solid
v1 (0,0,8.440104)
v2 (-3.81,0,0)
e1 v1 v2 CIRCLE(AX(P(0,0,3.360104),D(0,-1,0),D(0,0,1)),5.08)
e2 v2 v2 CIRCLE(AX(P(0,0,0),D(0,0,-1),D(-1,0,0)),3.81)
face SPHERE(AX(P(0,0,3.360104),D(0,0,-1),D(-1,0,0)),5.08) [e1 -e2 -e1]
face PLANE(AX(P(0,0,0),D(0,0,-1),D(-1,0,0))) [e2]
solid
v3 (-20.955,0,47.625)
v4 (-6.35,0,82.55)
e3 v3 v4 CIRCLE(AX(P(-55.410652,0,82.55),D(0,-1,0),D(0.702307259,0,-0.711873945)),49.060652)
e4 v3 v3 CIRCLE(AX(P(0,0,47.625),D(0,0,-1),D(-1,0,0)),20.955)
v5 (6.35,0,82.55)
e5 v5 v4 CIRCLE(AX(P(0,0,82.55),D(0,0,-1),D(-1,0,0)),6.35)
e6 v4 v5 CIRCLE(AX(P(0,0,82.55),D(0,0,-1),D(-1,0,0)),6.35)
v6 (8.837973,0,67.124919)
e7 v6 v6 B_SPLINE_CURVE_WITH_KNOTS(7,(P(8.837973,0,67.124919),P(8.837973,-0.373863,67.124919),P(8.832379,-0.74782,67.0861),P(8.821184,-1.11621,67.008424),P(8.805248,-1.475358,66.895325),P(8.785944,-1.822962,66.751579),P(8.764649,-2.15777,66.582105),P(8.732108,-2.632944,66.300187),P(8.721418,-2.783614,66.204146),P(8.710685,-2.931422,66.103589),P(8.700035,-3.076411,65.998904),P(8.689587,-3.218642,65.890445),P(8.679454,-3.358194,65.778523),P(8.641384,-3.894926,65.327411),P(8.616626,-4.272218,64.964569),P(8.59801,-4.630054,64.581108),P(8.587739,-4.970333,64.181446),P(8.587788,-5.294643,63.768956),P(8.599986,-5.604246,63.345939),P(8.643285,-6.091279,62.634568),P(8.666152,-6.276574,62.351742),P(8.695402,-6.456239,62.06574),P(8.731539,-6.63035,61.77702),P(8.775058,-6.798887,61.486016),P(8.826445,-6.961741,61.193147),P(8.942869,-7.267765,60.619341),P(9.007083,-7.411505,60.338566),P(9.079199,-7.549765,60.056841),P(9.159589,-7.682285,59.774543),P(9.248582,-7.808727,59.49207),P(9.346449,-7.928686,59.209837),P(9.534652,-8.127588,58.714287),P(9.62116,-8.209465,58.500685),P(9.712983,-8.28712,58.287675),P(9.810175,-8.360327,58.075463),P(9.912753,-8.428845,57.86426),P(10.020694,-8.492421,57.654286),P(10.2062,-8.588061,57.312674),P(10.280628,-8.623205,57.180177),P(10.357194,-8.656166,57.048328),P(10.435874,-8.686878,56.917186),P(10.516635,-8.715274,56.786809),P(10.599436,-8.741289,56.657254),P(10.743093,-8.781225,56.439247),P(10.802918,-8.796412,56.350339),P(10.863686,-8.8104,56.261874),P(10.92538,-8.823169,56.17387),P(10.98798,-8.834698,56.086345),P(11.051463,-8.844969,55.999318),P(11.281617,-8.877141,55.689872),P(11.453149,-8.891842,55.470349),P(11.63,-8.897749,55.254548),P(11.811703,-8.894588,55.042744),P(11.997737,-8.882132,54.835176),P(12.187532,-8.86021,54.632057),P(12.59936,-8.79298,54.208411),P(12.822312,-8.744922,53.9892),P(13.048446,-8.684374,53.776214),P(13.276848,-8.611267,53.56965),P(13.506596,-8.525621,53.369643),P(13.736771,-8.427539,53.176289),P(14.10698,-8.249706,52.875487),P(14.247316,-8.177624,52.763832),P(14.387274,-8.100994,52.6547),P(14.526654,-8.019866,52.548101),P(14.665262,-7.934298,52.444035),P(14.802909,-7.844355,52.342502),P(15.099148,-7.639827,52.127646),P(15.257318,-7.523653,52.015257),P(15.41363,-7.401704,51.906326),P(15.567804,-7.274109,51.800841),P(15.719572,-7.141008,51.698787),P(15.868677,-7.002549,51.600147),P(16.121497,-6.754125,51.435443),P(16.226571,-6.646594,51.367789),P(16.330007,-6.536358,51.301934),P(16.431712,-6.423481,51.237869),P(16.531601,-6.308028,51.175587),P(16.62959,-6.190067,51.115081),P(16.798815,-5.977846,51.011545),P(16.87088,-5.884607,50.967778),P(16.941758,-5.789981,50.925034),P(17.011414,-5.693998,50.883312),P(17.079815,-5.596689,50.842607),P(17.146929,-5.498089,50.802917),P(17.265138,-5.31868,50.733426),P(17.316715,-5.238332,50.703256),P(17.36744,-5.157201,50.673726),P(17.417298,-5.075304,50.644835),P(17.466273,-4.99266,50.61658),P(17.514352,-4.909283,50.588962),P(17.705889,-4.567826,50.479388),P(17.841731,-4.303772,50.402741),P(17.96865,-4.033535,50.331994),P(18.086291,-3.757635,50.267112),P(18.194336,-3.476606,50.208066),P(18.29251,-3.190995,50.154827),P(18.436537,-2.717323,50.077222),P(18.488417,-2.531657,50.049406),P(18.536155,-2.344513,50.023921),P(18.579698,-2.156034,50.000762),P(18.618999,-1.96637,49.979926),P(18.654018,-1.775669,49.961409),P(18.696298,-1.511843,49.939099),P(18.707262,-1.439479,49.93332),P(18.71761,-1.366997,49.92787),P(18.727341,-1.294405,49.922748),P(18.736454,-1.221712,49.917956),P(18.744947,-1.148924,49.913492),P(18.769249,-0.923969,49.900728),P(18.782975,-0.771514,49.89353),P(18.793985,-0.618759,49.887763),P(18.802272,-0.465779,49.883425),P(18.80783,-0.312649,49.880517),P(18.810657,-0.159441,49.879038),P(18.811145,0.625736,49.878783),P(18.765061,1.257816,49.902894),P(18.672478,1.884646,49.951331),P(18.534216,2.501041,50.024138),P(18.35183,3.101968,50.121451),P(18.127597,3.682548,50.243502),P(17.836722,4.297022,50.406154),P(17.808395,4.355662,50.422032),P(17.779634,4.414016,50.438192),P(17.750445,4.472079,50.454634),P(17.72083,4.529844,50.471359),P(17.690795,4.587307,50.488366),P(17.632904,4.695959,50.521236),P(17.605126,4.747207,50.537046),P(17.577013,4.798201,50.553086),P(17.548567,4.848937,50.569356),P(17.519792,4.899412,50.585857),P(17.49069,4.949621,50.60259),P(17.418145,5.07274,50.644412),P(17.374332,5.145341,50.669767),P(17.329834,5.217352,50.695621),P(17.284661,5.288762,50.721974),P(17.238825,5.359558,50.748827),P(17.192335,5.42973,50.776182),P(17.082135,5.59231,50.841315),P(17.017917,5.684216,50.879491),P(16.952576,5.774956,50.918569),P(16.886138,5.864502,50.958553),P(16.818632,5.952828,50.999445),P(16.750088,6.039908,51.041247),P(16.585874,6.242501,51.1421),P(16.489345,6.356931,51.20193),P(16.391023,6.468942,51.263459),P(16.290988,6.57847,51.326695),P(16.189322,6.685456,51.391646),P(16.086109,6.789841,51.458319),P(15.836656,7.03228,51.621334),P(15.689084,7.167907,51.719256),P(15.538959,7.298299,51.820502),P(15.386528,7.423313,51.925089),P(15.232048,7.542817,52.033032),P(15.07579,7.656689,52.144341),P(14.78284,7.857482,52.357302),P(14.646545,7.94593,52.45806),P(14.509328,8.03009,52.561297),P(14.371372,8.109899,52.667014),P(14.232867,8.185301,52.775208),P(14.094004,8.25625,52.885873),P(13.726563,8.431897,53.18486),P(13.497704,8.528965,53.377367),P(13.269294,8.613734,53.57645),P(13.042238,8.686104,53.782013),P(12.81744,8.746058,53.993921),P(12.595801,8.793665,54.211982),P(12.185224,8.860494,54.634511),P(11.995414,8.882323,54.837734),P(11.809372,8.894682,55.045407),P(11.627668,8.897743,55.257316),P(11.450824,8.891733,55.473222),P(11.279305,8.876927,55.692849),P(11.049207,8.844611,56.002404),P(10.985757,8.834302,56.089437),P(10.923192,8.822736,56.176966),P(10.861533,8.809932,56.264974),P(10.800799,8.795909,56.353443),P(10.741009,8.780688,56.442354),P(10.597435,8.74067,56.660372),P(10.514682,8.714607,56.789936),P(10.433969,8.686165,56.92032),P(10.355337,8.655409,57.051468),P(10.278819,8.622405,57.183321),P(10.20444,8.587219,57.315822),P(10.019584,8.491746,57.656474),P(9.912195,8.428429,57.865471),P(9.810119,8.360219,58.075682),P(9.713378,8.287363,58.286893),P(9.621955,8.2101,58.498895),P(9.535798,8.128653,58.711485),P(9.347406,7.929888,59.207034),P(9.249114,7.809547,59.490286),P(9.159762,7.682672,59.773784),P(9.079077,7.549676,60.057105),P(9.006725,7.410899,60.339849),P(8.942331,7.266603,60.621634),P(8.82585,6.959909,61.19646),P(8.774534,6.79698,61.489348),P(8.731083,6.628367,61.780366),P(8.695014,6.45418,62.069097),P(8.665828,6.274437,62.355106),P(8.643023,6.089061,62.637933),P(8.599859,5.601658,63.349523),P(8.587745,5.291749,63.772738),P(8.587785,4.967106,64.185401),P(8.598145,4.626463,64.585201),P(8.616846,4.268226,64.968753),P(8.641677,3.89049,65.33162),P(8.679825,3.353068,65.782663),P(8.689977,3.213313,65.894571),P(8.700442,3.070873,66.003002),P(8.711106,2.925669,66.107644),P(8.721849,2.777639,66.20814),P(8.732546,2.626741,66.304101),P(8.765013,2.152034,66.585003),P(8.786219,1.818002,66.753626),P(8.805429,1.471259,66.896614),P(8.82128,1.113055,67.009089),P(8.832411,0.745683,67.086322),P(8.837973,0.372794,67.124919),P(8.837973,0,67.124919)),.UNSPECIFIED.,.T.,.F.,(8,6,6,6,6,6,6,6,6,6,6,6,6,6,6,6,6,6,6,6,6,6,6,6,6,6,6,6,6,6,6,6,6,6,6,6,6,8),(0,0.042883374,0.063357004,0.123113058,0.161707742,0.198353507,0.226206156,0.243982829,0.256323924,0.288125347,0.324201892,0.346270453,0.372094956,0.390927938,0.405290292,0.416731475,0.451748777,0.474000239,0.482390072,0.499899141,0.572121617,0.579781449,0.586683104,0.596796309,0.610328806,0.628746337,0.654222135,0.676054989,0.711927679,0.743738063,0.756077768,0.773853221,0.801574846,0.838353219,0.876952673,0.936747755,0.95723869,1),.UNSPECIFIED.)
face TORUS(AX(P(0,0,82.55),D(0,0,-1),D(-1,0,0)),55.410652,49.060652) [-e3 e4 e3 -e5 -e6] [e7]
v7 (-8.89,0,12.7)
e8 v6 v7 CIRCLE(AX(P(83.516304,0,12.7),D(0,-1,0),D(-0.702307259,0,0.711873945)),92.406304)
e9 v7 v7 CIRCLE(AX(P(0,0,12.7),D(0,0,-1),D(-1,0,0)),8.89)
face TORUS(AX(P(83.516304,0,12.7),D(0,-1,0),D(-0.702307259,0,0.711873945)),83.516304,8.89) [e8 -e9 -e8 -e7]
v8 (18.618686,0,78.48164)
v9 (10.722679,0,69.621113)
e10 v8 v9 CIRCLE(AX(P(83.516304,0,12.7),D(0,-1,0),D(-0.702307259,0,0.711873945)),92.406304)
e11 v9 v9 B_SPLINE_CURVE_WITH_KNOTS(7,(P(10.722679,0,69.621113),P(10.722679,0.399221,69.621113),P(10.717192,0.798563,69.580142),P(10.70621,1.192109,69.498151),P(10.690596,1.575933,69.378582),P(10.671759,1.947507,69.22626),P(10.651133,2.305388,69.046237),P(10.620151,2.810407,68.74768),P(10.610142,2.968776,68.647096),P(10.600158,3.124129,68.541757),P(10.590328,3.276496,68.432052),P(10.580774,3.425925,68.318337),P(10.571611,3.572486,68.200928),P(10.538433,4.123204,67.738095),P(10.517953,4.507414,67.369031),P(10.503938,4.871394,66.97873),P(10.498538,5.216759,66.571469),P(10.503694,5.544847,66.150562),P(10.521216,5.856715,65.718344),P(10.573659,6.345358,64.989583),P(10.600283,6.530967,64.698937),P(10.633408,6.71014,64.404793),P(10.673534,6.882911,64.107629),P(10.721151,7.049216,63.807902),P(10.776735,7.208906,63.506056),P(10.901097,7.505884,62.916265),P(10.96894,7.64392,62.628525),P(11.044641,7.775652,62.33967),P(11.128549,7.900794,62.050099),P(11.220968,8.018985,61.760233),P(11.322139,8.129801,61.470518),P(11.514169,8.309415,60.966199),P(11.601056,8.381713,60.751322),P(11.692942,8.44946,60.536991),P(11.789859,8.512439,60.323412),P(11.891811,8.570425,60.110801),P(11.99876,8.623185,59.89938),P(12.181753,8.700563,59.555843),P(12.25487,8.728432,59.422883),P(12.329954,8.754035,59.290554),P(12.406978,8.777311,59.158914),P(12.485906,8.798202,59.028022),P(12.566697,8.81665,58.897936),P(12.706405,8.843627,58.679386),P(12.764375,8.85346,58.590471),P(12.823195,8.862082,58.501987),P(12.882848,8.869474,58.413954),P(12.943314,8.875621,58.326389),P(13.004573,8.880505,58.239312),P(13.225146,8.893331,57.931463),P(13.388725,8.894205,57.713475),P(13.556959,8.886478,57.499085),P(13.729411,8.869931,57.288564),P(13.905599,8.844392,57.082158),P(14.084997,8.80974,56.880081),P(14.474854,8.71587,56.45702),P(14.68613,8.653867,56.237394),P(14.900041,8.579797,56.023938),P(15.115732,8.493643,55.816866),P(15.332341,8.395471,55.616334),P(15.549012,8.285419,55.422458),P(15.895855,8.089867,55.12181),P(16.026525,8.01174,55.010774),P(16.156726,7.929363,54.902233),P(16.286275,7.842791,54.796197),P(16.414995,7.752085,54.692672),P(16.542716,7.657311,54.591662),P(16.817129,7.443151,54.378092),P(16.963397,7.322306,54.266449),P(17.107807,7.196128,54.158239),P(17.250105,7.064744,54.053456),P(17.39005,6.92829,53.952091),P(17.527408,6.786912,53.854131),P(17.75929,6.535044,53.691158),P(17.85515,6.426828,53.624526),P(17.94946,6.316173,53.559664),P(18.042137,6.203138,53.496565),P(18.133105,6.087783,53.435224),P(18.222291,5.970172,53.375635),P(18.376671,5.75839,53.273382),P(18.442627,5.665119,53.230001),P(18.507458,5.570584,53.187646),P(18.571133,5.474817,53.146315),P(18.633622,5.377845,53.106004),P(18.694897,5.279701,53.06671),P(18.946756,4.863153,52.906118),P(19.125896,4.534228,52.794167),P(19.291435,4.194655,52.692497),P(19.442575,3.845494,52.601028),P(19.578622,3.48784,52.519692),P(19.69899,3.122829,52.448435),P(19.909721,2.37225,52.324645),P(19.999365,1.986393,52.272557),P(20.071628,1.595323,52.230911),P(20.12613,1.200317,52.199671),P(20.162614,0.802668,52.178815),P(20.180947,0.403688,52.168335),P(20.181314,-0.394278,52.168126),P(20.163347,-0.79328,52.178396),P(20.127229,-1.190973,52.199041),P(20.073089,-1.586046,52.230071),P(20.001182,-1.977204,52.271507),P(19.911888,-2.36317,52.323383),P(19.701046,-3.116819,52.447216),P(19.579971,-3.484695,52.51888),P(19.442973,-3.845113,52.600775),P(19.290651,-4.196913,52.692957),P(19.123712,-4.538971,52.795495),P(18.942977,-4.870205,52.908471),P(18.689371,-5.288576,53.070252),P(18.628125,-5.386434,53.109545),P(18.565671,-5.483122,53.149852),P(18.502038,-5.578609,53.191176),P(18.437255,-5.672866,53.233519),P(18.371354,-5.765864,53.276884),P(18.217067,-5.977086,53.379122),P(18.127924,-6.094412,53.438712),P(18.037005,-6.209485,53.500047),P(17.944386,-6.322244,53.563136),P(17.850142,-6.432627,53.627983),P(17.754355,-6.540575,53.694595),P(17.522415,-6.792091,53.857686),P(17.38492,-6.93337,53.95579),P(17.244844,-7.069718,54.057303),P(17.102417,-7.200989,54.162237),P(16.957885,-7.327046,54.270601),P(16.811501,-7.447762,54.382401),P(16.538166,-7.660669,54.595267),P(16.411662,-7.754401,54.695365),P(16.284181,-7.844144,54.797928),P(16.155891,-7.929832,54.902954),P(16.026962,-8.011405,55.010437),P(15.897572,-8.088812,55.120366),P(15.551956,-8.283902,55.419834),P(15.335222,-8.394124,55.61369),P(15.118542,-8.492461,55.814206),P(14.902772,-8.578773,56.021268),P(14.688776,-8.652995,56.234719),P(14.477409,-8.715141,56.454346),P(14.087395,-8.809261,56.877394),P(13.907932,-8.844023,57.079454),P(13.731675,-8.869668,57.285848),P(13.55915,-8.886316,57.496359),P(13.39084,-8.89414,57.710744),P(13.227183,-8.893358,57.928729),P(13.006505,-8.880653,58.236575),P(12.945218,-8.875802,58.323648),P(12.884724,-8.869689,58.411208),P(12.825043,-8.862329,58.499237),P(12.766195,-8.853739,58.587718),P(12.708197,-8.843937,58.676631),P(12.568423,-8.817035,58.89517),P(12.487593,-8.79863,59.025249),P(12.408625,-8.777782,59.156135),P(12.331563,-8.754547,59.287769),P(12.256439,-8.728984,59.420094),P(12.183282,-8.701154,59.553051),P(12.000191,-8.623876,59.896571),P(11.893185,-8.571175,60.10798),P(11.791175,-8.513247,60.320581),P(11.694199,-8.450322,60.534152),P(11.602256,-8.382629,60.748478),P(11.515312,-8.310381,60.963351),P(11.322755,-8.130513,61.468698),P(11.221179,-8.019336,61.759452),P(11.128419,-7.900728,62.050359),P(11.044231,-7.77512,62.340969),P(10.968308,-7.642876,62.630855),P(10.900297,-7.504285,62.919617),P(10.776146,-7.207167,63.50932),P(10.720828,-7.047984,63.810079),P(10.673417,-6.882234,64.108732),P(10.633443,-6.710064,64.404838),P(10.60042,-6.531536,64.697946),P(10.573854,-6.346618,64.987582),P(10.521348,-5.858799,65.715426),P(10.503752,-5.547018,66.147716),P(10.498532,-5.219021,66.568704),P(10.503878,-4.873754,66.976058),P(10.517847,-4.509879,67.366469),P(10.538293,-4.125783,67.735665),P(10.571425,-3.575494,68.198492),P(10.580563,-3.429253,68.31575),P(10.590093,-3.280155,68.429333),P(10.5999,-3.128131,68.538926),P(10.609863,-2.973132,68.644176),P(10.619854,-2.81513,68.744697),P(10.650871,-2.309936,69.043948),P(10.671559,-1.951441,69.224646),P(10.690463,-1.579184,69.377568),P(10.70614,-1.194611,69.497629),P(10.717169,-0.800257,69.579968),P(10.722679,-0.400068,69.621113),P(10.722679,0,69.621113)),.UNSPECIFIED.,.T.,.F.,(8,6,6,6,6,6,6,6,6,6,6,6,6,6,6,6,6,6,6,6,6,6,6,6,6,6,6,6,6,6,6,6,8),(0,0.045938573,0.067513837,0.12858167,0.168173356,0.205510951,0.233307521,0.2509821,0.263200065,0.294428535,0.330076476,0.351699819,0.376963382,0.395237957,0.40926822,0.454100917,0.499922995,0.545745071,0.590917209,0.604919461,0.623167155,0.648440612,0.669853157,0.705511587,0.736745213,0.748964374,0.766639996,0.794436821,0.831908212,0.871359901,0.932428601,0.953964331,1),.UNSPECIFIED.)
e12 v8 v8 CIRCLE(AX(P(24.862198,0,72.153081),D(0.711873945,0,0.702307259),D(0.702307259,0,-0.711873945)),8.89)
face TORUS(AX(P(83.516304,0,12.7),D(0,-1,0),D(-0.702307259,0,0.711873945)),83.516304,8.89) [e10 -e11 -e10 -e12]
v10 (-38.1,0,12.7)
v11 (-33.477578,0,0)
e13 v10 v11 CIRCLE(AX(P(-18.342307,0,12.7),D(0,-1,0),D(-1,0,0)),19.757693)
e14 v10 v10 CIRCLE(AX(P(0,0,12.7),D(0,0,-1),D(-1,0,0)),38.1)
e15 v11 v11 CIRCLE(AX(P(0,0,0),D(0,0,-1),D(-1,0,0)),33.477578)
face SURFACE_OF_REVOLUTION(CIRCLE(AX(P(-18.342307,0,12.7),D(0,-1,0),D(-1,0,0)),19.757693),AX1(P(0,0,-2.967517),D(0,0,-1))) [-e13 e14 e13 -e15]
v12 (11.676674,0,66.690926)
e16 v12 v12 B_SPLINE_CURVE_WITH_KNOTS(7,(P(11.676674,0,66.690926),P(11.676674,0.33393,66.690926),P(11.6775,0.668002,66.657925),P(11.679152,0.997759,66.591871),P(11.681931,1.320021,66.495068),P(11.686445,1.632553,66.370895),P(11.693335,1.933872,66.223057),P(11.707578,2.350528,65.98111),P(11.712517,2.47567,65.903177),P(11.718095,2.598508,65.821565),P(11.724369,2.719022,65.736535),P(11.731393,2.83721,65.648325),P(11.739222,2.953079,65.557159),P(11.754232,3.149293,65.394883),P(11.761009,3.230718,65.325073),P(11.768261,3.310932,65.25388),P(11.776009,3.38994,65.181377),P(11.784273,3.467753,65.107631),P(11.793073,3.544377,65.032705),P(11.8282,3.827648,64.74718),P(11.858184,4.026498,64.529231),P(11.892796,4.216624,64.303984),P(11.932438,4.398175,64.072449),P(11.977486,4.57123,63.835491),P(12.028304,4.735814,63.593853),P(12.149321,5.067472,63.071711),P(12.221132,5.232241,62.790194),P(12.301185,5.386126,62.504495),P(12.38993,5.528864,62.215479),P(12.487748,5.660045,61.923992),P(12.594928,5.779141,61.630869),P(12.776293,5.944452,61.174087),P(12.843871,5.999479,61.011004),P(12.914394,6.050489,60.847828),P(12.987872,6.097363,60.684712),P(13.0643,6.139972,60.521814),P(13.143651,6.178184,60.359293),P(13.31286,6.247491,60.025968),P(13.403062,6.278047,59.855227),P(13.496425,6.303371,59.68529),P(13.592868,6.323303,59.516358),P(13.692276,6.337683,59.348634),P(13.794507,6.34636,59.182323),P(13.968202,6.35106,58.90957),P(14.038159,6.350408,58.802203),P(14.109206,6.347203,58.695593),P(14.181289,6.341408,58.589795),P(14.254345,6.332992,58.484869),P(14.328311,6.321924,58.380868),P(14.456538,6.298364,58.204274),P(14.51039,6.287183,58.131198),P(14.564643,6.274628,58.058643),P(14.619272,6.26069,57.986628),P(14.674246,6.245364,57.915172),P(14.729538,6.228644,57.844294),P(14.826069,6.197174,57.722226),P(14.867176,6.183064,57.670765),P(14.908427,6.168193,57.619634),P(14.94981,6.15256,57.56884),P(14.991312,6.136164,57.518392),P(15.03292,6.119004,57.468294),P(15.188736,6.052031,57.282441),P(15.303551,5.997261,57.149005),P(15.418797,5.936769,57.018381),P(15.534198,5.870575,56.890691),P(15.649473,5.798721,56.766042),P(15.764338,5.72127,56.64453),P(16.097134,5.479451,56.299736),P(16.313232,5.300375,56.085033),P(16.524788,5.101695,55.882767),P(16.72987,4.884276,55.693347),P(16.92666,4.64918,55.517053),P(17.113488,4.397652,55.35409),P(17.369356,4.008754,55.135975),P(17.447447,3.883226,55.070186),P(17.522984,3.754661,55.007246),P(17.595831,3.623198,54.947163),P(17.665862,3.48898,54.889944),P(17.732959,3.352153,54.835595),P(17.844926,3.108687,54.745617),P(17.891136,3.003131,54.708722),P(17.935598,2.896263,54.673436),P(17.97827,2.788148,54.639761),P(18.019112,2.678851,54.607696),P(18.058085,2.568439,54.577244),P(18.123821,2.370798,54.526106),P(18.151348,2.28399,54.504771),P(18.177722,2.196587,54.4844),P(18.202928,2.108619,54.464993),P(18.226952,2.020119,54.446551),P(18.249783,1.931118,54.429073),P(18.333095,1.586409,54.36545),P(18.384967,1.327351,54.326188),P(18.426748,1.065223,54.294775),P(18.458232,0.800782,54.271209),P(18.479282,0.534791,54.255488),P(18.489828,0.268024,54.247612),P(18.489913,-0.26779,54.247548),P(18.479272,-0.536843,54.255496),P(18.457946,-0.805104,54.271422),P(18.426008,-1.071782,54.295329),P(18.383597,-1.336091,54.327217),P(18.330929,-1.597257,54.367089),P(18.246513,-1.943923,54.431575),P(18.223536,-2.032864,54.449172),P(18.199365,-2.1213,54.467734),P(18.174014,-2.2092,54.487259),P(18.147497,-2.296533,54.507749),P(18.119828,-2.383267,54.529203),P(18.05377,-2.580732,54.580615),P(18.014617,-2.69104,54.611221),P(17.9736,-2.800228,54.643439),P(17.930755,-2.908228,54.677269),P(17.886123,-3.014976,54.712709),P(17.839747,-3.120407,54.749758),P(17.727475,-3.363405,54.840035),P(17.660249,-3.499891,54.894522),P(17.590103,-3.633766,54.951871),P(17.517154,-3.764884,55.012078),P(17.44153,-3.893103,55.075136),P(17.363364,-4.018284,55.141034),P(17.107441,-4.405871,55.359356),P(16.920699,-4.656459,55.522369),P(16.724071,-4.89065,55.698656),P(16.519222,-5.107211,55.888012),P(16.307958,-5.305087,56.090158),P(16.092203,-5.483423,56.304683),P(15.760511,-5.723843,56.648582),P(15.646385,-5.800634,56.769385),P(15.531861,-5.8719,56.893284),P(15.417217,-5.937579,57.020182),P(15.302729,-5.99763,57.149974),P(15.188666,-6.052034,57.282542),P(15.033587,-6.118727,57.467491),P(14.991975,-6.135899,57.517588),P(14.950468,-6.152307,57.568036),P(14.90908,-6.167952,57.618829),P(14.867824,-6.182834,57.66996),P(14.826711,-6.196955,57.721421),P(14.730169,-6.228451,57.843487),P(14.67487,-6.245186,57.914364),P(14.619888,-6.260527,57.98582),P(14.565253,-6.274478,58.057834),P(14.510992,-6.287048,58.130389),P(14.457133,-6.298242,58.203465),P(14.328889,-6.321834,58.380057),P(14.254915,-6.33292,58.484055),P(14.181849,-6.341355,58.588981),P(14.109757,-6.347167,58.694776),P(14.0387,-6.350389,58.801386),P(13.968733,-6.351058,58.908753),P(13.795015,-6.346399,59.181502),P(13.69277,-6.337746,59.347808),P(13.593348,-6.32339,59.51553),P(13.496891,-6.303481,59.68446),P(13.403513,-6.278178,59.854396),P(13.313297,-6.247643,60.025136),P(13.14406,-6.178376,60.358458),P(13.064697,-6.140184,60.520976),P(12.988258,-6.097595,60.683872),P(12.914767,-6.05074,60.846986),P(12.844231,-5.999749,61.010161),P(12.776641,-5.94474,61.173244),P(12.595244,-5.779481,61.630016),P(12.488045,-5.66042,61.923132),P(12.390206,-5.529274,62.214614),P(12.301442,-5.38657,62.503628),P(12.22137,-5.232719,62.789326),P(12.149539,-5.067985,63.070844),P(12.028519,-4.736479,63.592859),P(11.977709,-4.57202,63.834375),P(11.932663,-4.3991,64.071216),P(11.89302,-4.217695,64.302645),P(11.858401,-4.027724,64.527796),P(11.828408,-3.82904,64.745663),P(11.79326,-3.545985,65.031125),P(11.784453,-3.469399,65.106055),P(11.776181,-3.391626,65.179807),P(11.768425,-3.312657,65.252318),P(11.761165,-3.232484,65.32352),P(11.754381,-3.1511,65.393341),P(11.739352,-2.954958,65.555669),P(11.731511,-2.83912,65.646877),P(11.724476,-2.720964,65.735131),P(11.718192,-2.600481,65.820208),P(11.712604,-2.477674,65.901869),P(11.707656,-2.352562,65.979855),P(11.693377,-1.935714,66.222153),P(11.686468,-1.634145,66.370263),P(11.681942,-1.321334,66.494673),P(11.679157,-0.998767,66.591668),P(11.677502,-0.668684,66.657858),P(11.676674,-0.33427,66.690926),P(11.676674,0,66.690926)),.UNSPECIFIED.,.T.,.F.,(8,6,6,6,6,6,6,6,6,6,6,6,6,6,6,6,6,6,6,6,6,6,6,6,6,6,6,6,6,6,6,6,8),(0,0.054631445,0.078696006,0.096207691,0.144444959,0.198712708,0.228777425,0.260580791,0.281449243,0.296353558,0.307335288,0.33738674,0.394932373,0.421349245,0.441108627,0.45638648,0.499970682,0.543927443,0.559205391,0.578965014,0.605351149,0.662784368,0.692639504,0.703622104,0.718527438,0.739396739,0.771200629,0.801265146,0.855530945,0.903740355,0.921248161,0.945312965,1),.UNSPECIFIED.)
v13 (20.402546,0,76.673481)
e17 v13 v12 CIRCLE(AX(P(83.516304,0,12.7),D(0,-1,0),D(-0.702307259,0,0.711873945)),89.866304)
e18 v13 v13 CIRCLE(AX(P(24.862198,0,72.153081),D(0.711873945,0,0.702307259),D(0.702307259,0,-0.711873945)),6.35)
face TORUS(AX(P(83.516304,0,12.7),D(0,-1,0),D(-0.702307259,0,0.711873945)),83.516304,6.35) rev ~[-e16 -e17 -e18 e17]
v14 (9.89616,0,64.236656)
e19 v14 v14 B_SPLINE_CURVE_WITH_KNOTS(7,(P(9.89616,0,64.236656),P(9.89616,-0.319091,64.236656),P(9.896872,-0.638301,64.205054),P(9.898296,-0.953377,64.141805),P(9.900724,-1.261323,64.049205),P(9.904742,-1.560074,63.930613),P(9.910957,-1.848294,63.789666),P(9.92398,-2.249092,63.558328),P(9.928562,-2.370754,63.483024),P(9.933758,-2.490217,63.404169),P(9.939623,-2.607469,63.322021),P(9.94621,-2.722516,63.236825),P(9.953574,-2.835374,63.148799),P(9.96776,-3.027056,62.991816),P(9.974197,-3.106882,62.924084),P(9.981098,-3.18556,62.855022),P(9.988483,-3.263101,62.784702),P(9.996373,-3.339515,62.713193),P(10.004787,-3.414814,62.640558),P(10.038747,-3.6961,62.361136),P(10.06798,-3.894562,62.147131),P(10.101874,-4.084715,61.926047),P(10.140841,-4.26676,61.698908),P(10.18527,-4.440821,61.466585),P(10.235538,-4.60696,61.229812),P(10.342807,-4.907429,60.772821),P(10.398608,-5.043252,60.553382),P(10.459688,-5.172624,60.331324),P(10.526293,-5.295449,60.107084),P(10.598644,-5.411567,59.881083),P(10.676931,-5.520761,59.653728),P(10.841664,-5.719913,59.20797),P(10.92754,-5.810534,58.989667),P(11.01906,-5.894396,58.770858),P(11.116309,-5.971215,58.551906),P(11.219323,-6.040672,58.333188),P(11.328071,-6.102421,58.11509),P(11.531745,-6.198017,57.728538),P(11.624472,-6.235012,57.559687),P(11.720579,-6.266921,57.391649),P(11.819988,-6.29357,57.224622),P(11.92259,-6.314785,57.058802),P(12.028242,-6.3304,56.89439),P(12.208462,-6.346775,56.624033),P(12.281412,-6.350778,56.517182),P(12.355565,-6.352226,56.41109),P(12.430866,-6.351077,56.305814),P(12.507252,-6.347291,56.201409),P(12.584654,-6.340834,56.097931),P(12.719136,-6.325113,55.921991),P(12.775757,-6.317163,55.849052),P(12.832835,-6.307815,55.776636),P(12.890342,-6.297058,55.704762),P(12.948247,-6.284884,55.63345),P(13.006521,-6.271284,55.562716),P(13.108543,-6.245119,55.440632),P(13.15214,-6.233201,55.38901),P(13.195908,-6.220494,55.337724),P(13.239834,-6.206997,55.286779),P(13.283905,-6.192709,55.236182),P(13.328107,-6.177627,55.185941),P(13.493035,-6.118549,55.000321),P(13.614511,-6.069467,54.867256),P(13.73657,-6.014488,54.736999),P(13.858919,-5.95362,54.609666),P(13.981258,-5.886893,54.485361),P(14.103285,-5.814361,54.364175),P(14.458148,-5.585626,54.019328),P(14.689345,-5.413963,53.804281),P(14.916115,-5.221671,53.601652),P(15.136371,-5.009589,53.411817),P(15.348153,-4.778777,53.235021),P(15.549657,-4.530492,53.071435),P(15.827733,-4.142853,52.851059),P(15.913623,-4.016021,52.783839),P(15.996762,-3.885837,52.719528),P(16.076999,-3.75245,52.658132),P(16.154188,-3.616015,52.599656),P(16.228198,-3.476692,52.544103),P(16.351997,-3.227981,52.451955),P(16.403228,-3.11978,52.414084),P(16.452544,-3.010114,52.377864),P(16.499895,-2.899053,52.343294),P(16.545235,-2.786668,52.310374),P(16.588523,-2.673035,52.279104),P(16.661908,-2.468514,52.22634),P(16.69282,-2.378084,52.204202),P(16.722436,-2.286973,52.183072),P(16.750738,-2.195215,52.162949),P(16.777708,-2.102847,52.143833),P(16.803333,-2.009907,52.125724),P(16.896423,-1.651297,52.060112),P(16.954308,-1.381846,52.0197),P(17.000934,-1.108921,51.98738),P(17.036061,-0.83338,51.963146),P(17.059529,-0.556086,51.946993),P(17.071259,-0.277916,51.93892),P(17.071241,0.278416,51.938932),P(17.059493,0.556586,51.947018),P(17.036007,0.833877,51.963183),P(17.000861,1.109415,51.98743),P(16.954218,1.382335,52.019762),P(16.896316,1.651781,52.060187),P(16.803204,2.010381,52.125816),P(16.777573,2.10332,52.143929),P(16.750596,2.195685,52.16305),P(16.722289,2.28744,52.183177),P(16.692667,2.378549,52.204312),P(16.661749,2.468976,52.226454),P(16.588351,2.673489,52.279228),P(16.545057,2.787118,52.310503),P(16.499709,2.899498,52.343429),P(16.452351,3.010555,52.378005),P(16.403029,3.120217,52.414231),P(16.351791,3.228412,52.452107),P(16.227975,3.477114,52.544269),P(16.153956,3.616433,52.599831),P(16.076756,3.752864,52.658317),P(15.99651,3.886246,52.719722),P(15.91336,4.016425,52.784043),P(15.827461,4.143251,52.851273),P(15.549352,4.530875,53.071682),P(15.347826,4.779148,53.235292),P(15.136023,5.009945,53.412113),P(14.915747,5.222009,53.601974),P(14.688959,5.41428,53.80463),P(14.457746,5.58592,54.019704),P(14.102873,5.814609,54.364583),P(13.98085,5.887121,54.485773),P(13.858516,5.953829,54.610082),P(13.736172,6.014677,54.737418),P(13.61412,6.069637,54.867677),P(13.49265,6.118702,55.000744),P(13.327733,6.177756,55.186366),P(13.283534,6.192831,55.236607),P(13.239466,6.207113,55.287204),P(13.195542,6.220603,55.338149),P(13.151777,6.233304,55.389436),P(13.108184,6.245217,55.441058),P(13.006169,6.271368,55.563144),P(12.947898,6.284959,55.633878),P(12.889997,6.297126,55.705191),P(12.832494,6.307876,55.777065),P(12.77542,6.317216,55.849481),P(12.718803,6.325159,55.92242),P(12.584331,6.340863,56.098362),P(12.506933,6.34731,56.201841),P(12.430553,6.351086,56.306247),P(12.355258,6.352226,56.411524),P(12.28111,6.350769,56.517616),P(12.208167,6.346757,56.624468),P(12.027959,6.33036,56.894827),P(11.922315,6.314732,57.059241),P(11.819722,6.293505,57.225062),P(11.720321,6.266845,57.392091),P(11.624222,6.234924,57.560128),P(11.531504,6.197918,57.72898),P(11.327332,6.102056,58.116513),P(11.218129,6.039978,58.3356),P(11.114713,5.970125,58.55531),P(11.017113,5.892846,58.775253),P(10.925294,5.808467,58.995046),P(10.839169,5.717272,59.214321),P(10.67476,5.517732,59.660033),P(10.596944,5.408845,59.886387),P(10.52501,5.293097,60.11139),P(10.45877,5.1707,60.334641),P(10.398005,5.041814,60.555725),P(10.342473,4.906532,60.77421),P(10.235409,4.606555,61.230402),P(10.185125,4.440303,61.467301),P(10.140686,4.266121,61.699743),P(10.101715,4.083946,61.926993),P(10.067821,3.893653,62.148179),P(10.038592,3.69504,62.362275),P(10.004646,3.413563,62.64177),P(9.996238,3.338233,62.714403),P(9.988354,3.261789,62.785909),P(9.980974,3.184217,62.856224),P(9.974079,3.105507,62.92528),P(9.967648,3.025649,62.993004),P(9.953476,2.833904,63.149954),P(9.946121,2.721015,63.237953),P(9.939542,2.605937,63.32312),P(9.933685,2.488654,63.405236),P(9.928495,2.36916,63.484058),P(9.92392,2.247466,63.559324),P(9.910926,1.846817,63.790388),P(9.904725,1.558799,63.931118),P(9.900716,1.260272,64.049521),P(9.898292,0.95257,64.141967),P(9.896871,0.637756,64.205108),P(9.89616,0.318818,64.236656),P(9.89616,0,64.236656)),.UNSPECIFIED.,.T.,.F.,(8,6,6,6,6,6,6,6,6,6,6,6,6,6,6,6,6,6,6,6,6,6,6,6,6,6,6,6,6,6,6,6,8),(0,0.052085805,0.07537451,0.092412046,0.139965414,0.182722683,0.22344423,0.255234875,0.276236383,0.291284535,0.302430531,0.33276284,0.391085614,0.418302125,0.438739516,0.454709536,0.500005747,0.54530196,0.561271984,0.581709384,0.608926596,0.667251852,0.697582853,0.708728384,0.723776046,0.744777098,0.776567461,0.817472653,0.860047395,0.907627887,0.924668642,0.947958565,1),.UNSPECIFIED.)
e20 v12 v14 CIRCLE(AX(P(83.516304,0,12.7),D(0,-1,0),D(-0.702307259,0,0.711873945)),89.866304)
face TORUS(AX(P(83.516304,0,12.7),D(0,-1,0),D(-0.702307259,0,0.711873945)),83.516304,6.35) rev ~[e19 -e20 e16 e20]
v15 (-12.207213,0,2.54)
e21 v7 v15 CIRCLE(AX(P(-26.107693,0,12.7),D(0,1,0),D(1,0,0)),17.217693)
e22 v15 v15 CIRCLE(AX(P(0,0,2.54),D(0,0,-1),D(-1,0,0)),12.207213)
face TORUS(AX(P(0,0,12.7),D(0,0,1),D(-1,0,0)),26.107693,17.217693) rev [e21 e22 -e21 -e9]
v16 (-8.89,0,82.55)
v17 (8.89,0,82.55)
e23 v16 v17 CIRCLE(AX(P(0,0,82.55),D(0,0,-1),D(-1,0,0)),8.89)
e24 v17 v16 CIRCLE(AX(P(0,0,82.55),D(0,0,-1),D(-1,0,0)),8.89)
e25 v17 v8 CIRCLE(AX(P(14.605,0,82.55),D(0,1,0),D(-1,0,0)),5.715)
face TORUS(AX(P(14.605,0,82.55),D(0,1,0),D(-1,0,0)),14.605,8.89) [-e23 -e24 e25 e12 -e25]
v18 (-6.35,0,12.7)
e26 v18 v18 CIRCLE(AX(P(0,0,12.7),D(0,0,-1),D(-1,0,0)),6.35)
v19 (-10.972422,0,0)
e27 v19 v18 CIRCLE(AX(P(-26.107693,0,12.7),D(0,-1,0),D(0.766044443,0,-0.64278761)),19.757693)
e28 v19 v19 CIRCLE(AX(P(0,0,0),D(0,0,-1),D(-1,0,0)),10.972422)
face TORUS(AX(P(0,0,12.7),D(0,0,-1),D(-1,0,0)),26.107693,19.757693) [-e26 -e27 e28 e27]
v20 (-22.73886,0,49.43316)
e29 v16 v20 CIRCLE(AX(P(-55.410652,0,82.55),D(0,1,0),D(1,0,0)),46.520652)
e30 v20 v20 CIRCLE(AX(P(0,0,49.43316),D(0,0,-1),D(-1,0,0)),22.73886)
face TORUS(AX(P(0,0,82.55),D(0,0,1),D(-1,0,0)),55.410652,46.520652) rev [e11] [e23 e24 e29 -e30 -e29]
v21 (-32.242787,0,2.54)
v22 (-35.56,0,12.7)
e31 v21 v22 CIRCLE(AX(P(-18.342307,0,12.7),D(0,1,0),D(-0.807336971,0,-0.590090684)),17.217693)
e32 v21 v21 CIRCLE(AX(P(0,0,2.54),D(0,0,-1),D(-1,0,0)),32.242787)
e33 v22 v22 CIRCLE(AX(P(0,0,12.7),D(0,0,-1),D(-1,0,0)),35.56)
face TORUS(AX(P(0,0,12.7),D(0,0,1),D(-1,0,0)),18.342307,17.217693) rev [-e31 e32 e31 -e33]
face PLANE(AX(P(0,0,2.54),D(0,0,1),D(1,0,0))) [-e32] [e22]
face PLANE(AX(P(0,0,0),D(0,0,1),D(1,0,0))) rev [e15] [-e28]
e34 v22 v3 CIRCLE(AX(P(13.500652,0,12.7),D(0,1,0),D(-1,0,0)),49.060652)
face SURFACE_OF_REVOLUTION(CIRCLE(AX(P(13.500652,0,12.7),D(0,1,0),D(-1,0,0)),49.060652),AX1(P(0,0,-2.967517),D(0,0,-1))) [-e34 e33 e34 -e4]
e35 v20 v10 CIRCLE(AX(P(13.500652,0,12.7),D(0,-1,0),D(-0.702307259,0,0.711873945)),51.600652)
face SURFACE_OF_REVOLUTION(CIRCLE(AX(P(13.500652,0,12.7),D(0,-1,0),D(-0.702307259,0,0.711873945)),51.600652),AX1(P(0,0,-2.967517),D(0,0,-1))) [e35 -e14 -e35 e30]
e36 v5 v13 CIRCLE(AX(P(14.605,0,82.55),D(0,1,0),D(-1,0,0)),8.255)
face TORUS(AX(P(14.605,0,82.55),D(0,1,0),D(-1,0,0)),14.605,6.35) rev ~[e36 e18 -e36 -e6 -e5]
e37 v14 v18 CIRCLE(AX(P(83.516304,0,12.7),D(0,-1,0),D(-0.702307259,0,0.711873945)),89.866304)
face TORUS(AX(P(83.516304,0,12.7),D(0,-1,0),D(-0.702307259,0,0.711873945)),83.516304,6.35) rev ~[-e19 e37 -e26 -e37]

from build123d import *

# Parameters (mm, degrees)
F3_R        = 6.35
F1_FACE_R   = 8.89
F1_FACE_R_2 = 6.35


with BuildPart() as f1:
    # F0 (on Front) → F1 (revolve)
    with BuildSketch(Plane.XZ):
        with BuildLine():
            ThreePointArc((-22.7388604389, 49.4331598199), (-34.1050711693, 32.6078479435), (-38.1, 12.7))
            ThreePointArc((-38.1, 12.7), (-36.9084653399, 5.9424711448), (-33.4775780248, 0))
            Line((-33.4775780248, 0), (-22.225, 0))
            Line((-22.225, 0), (-10.9724219752, 0))
            ThreePointArc((-10.9724219752, 0), (-7.5415346601, 5.9424711448), (-6.35, 12.7))
            Line((-6.35, 12.7), (-8.89, 12.7))
            ThreePointArc((-8.89, 12.7), (-9.7402993052, 7.3560898958), (-12.207212807, 2.54))
            Line((-12.207212807, 2.54), (-22.225, 2.54))
            Line((-22.225, 2.54), (-32.242787193, 2.54))
            ThreePointArc((-32.242787193, 2.54), (-34.7097006948, 7.3560898958), (-35.56, 12.7))
            ThreePointArc((-35.56, 12.7), (-31.7617182814, 31.6279003722), (-20.955, 47.625))
            ThreePointArc((-20.955, 47.625), (-10.1482817186, 63.6220996278), (-6.35, 82.55))
            Line((-6.35, 82.55), (-8.89, 82.55))
            ThreePointArc((-8.89, 82.55), (-12.4916346066, 64.6020471991), (-22.7388604389, 49.4331598199))
        make_face()
    revolve(axis=Axis((0, 0, -2.9675168917), (0, 0, -1)))

    # F4: sweep along a path in F2
    with BuildLine(Plane.XZ) as f4_path:
        ThreePointArc((0, 82.55), (20.2396985351, 96.0242791057), (24.8621975239, 72.1530810355))
        ThreePointArc((24.8621975239, 72.1530810355), (6.465842543, 44.9211022093), (0, 12.7))
    # F3 (on face) → F4 (sweep, cut)
    with BuildSketch(Plane.XY.offset(82.55)):
        Circle(F3_R)
    sweep(path=f4_path.line, mode=Mode.SUBTRACT)

    # F5: sweep along a path in F2
    with BuildLine(Plane.XZ) as f5_path:
        ThreePointArc((0, 82.55), (20.2396985351, 96.0242791057), (24.8621975239, 72.1530810355))
        ThreePointArc((24.8621975239, 72.1530810355), (6.465842543, 44.9211022093), (0, 12.7))
    # F1_face (on face) → F5 (sweep)
    with BuildSketch(Plane.XY.offset(82.55)):
        Circle(F1_FACE_R)
        Circle(F1_FACE_R_2, mode=Mode.SUBTRACT)
    sweep(path=f5_path.line)


with BuildPart() as f1b:
    # F0 (on Front) → F1, piece 2 (revolve)
    with BuildSketch(Plane.XZ):
        with BuildLine():
            ThreePointArc((0, 8.4401041651), (-4.6301041651, 5.4502083301), (-3.81, 0))
            Line((-3.81, 0), (0, 0))
            Line((0, 0), (0, 8.4401041651))
        make_face()
    revolve(axis=Axis((0, 0, -2.9675168917), (0, 0, -1)))


solid = Compound([f1.part, f1b.part])
